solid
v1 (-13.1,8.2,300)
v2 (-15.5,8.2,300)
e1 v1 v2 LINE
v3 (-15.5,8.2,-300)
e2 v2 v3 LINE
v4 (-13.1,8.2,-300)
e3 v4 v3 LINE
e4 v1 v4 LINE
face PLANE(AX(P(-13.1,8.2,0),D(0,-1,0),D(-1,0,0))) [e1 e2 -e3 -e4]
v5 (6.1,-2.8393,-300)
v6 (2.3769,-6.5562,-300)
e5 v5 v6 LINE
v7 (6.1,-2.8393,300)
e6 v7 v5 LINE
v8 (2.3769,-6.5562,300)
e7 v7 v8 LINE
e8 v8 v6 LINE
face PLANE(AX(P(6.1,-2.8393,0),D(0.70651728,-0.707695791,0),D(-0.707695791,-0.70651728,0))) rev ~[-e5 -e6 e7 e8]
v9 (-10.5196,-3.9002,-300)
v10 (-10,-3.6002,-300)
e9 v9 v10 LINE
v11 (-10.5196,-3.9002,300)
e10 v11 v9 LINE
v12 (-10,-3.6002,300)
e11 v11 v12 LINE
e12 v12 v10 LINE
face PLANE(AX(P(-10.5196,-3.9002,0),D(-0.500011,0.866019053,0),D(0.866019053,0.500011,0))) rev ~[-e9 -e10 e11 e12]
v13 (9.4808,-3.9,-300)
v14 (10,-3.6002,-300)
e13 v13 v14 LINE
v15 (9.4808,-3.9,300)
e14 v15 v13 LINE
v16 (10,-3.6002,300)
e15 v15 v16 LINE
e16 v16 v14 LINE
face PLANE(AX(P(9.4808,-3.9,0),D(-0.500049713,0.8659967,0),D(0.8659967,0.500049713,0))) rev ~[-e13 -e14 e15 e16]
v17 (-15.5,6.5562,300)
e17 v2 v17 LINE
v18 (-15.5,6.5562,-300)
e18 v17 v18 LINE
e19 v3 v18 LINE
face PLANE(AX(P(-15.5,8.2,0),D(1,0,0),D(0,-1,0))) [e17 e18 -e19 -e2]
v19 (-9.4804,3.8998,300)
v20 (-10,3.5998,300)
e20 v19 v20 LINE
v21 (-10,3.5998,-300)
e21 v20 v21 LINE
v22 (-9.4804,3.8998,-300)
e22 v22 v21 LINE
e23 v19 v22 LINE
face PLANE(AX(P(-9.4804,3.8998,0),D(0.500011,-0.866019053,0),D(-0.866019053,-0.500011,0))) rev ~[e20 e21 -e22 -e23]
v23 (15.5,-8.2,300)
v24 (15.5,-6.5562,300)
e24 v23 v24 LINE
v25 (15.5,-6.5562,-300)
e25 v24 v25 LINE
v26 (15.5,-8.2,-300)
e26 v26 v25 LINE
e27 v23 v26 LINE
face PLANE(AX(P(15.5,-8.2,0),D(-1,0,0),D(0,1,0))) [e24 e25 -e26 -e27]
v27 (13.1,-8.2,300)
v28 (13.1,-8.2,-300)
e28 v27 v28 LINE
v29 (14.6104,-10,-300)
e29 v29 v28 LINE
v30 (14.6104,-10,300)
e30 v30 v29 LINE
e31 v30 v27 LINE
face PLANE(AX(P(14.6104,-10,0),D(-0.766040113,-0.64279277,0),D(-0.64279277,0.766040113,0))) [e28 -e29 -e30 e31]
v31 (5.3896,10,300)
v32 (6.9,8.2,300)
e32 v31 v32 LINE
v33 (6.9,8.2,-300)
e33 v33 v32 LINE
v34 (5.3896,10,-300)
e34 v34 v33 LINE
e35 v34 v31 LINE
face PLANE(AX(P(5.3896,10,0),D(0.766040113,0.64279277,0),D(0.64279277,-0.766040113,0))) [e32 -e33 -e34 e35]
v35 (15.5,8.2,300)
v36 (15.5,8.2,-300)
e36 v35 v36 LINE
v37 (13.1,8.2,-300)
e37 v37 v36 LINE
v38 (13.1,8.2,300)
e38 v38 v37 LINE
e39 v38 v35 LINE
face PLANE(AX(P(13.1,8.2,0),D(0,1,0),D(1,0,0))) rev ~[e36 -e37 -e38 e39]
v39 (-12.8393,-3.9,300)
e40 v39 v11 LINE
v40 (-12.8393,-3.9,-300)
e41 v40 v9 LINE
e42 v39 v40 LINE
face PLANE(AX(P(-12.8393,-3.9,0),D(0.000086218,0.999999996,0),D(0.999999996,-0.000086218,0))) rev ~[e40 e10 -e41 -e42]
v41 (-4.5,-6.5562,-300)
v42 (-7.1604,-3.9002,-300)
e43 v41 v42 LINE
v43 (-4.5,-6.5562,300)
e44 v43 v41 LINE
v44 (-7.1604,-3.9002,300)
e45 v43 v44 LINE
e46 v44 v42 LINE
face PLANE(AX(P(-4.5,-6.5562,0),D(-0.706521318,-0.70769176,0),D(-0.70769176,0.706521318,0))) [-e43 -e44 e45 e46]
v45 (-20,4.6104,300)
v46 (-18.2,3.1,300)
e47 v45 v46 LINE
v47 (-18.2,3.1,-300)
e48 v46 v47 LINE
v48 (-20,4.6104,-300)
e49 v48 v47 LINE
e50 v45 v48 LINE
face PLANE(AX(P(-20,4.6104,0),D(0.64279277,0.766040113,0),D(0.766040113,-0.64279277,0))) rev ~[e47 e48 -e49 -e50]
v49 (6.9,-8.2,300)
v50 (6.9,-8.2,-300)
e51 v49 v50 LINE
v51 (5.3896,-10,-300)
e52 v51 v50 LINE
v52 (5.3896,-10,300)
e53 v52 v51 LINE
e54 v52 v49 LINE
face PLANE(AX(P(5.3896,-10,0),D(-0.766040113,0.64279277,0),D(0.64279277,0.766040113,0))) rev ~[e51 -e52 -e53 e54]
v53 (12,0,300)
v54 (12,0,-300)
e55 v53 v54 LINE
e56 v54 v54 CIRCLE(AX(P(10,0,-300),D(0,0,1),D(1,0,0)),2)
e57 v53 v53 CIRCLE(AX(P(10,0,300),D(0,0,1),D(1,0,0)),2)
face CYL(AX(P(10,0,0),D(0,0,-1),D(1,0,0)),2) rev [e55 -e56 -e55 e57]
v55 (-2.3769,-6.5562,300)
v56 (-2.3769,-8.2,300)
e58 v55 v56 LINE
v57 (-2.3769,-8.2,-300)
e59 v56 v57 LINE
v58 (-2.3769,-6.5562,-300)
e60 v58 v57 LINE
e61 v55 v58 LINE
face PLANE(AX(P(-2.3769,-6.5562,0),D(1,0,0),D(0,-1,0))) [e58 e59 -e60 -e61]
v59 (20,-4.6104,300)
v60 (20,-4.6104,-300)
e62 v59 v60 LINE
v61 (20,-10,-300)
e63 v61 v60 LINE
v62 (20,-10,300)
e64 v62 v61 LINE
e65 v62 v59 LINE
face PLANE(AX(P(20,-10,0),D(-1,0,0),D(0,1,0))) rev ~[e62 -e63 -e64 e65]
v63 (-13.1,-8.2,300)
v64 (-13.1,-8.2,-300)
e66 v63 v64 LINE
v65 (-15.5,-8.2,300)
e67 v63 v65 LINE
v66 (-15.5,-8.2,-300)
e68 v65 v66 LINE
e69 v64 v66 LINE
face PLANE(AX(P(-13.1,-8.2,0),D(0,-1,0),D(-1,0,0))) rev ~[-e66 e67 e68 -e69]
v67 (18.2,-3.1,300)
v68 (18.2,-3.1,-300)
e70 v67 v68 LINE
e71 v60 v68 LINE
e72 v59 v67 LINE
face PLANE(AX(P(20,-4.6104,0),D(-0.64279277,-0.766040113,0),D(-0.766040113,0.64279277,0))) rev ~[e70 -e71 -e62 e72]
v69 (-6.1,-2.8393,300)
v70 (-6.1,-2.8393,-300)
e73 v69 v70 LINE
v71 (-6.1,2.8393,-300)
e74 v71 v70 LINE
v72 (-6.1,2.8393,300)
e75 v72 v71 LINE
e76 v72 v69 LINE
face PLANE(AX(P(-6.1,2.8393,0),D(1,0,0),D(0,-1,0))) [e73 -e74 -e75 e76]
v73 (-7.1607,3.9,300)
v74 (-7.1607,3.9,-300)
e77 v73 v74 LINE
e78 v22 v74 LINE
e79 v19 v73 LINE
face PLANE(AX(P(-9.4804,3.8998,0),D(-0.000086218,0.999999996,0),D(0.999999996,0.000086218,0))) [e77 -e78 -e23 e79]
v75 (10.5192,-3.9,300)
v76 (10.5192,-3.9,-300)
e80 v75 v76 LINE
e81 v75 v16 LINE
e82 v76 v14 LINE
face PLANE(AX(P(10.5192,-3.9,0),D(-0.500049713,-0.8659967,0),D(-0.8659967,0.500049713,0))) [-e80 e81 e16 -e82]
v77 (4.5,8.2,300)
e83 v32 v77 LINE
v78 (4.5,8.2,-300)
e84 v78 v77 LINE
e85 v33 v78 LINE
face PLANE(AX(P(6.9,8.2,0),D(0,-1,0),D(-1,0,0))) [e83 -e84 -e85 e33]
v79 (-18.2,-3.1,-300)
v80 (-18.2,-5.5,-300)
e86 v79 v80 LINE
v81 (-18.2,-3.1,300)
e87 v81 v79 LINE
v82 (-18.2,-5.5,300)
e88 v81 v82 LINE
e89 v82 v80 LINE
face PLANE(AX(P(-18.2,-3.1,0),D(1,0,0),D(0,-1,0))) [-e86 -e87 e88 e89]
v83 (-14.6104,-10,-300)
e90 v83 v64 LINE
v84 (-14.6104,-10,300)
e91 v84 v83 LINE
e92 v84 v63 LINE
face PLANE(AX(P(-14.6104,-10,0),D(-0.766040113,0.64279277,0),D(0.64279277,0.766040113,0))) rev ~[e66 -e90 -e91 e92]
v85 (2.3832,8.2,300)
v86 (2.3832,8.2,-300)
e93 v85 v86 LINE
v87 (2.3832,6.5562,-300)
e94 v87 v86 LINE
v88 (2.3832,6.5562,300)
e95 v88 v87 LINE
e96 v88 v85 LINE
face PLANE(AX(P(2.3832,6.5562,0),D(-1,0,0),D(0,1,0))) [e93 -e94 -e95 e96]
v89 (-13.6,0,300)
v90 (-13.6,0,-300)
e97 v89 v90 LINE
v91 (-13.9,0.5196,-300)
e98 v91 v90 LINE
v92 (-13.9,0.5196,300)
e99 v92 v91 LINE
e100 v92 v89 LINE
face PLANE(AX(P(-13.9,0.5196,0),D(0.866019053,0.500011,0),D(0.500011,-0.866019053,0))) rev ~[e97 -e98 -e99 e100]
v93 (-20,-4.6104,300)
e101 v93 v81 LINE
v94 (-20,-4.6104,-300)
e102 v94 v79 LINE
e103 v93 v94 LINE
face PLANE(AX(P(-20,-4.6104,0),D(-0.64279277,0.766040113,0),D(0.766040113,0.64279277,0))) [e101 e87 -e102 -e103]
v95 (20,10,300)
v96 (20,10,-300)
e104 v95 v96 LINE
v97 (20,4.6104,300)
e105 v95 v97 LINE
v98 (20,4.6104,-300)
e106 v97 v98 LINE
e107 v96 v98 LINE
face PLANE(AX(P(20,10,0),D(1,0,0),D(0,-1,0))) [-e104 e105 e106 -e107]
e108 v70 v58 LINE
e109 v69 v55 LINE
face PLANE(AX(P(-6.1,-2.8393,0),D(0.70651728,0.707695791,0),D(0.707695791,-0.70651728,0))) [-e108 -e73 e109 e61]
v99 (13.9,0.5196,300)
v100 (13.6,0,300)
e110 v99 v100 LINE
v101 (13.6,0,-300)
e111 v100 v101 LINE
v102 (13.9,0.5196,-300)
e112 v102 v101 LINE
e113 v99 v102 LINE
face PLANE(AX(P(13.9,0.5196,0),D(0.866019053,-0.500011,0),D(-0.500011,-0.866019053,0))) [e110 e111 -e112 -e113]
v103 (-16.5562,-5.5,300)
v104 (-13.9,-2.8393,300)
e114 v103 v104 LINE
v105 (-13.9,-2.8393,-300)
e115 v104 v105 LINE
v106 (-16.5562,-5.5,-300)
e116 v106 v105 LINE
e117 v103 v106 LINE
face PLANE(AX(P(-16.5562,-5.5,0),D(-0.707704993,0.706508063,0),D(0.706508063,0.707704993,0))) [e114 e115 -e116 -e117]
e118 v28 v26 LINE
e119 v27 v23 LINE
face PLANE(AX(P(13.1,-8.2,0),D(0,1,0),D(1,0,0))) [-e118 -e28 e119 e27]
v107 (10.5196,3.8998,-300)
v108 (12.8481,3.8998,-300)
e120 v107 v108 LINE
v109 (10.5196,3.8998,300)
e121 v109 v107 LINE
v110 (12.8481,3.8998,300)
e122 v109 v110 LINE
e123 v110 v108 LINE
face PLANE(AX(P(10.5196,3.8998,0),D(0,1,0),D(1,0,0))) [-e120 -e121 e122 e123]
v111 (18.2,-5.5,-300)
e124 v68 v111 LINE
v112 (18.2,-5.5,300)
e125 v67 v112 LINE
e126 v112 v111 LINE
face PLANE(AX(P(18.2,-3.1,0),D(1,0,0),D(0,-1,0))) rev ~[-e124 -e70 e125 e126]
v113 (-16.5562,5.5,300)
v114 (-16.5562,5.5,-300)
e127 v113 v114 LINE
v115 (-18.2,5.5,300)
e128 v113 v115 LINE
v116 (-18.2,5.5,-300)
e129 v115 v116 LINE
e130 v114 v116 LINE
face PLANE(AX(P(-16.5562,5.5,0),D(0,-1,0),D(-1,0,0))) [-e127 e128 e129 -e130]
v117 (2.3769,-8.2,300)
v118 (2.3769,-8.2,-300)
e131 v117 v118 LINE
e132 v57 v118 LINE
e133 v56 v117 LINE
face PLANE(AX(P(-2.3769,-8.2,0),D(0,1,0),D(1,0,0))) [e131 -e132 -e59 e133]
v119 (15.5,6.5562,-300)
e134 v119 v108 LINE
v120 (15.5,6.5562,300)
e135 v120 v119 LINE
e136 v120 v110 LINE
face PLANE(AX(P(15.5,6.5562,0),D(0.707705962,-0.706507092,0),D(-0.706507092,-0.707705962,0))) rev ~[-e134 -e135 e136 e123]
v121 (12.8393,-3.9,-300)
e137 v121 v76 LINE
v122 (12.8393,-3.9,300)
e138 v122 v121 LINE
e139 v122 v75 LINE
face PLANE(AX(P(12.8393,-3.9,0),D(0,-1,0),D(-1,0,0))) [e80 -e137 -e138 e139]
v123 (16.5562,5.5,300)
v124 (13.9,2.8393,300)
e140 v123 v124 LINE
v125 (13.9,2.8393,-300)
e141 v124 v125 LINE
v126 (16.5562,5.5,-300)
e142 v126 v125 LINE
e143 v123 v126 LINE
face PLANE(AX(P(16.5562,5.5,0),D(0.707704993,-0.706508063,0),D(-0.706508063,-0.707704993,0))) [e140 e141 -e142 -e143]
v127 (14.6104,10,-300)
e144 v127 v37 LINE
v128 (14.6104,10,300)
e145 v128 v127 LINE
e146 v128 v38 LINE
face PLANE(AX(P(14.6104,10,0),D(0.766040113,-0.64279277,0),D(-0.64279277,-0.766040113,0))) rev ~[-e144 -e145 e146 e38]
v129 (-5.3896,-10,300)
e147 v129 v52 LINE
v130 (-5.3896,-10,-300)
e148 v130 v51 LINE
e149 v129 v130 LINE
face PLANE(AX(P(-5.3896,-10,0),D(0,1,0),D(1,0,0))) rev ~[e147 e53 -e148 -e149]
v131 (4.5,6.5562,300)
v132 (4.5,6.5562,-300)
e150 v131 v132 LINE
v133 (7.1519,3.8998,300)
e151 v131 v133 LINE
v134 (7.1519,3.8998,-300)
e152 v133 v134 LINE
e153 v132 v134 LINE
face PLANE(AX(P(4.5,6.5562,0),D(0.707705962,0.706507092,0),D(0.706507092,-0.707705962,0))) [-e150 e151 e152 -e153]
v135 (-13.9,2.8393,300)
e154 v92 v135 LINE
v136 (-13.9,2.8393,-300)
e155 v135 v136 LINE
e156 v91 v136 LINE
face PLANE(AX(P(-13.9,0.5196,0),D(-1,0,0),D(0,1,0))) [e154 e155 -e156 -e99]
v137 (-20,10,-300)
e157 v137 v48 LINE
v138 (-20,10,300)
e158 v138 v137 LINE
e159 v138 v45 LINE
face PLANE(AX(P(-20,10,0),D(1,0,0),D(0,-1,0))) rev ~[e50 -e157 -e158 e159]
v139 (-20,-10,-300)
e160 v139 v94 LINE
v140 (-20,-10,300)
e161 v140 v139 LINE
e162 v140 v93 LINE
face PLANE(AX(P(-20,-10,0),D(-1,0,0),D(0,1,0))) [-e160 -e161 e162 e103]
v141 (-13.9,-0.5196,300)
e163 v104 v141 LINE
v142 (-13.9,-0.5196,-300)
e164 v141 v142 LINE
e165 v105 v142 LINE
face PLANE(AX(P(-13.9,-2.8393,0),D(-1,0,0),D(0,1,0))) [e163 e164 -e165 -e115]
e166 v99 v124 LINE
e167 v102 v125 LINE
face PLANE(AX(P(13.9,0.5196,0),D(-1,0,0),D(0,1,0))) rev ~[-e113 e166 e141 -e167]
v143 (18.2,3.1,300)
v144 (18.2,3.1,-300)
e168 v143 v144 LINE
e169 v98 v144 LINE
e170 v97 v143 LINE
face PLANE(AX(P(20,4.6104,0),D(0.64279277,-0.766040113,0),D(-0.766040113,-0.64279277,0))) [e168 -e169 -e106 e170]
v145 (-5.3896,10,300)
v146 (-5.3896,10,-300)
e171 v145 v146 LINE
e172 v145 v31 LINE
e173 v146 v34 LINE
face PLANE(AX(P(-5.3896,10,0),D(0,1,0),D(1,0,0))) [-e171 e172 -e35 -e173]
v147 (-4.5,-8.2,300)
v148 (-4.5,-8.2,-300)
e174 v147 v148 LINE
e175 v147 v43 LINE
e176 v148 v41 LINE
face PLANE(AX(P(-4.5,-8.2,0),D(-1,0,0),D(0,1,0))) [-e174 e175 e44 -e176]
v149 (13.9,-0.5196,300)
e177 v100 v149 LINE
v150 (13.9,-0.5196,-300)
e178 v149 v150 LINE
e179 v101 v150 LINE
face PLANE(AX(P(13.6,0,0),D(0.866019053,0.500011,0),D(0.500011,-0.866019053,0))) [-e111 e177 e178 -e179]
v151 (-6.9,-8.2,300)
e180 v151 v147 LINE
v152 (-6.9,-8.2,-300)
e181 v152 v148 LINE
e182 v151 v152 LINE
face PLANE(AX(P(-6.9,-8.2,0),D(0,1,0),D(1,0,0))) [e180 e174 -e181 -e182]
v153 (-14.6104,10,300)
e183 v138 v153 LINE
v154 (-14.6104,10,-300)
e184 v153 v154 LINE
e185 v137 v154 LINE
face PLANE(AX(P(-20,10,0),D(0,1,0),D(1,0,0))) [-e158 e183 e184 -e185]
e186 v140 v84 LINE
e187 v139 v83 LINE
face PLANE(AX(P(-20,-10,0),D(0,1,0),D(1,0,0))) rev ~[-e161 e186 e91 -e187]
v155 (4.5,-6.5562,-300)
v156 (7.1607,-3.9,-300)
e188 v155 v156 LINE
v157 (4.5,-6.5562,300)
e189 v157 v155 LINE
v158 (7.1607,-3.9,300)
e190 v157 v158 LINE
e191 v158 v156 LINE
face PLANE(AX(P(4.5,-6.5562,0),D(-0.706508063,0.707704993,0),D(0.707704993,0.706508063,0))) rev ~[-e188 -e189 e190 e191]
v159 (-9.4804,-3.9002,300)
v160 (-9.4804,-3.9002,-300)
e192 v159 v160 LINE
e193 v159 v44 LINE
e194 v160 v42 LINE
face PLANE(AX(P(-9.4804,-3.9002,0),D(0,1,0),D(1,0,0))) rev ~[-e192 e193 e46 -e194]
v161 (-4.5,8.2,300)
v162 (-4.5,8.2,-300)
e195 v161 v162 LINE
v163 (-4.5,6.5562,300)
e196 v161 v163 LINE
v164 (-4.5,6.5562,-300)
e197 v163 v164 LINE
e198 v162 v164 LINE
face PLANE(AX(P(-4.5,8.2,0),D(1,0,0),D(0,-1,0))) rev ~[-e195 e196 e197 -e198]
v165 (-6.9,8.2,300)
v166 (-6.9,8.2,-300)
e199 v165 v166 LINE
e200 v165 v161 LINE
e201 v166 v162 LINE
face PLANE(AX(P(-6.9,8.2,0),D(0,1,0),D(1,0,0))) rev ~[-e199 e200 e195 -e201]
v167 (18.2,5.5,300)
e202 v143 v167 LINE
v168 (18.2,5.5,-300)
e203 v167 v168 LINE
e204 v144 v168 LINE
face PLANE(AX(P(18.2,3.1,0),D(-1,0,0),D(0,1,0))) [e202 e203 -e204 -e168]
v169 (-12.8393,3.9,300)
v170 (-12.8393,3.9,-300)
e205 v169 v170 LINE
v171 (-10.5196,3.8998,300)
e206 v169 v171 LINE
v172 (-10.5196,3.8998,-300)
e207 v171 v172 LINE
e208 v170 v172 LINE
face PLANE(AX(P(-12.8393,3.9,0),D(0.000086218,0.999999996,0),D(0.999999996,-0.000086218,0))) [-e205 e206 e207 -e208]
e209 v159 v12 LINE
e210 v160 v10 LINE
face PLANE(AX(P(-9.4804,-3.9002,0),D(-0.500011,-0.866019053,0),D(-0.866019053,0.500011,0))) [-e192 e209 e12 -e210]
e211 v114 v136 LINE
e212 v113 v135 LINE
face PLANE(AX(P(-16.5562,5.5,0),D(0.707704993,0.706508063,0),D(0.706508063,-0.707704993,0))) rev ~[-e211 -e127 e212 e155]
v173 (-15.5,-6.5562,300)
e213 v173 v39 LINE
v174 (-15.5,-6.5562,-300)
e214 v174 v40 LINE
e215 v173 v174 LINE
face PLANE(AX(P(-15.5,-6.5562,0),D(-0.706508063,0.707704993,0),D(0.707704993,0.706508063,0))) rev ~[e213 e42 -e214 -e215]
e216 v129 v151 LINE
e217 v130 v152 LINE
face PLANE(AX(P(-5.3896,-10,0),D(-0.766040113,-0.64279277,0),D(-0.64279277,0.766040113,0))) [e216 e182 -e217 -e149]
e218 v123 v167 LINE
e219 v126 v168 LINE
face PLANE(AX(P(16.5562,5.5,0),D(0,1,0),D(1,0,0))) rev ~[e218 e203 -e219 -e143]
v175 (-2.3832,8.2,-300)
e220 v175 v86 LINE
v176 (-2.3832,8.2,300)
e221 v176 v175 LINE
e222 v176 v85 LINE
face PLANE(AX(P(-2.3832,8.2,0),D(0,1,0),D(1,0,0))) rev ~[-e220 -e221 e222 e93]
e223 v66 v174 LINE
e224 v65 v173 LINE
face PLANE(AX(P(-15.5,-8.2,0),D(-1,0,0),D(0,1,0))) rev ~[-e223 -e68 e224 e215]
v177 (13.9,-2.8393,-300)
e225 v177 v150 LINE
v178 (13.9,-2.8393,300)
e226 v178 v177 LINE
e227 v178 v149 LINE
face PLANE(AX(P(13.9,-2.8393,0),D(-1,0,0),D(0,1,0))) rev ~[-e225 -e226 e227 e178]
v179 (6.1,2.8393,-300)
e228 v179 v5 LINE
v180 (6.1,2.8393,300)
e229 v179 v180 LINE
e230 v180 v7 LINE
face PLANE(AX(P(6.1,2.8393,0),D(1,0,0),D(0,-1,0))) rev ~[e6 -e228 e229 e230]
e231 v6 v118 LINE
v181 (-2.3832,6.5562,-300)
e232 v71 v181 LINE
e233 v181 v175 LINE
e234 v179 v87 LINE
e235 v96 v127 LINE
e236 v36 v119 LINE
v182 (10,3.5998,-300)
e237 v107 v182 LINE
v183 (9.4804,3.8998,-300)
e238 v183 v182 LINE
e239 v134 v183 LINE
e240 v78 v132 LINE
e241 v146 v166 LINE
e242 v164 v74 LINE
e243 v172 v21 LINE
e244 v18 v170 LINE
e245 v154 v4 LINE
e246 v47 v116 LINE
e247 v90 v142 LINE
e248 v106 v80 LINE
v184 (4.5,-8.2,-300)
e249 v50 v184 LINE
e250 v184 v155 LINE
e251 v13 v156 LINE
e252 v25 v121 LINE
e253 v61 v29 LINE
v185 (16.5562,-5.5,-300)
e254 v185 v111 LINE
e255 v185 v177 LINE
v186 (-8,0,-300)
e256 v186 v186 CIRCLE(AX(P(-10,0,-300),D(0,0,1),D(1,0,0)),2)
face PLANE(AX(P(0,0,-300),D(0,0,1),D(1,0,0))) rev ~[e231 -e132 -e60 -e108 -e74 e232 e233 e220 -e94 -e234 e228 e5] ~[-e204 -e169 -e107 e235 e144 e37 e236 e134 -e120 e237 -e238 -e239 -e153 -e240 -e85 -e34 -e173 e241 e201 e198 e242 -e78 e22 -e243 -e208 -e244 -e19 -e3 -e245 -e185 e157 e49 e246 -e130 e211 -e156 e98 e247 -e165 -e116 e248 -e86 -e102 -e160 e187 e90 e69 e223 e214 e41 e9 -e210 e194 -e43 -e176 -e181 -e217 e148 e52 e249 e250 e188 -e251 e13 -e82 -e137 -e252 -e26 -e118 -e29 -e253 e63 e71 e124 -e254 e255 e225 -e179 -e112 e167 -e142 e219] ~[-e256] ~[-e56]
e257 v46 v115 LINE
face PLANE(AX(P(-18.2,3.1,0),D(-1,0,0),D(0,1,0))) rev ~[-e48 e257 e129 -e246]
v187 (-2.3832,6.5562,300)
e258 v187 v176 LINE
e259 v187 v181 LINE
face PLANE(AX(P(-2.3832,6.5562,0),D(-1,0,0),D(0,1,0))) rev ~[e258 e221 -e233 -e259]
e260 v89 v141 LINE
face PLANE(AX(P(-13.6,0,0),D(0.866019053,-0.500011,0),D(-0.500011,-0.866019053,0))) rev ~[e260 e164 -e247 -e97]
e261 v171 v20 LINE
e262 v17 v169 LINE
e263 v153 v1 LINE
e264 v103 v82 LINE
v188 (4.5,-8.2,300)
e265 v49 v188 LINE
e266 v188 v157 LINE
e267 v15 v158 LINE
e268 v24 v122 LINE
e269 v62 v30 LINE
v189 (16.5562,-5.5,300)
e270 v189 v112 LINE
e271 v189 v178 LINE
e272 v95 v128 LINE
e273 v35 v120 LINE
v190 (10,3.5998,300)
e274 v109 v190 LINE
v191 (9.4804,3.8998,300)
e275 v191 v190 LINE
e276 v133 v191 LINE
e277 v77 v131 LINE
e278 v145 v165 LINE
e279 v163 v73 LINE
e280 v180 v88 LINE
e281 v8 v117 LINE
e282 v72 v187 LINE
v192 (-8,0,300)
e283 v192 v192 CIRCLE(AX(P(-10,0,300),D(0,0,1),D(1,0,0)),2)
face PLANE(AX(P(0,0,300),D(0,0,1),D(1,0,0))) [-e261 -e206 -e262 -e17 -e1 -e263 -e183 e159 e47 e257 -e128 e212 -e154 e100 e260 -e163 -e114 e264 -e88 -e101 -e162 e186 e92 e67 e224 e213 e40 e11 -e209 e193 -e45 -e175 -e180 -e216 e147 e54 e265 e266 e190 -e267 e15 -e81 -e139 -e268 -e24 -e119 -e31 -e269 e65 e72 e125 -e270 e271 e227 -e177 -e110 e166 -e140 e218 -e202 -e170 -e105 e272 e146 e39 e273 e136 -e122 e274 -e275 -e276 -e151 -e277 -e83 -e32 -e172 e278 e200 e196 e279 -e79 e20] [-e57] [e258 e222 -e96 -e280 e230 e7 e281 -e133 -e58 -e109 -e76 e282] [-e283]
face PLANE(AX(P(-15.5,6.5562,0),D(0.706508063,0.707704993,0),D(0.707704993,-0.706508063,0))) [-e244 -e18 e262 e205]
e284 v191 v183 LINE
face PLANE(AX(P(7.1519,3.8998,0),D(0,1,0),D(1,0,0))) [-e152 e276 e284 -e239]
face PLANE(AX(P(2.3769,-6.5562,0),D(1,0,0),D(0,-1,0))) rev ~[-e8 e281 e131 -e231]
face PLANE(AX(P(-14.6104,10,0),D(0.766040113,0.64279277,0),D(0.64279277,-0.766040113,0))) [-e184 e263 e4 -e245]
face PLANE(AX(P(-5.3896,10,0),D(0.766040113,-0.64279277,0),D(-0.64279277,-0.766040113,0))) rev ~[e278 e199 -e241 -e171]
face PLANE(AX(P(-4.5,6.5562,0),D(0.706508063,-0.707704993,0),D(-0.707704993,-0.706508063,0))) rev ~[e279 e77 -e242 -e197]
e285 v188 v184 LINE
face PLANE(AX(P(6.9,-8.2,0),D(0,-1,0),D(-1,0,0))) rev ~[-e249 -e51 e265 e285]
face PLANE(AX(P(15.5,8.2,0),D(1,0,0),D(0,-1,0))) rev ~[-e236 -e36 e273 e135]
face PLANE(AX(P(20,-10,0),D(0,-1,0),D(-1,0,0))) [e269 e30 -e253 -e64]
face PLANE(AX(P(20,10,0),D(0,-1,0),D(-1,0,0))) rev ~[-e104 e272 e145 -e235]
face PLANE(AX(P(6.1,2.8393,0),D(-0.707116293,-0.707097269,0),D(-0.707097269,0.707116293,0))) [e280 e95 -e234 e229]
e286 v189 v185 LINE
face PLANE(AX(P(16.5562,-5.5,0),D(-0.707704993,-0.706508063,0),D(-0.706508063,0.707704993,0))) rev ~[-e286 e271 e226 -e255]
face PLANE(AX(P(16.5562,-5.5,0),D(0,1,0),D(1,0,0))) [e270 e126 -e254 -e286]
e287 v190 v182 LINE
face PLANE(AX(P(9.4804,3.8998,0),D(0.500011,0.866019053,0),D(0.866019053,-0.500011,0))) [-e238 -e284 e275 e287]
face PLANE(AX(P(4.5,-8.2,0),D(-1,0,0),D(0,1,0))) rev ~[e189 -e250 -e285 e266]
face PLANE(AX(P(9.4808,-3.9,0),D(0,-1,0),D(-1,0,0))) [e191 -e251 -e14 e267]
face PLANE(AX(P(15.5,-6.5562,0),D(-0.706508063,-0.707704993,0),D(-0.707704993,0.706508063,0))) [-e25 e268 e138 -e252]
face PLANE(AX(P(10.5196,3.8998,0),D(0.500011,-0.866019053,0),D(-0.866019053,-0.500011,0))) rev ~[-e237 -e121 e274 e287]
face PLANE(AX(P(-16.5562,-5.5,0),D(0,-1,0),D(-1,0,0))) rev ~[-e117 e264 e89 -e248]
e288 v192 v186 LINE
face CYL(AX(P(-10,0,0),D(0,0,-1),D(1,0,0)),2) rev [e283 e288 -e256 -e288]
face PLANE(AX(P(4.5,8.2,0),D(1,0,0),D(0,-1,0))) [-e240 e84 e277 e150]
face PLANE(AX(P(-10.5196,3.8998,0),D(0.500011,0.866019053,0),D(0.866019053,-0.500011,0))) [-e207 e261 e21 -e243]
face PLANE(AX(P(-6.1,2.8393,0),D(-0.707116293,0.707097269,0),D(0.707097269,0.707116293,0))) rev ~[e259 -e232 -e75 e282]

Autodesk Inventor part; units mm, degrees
ref_plane "YZ Plane" through (0, 0, 0) normal (1, 0, 0) x (0, 1, 0)
ref_plane "XZ Plane" through (0, 0, 0) normal (0, 1, 0) x (-1, 0, 0)
ref_plane "XY Plane" through (0, 0, 0) normal (0, 0, 1) x (1, 0, 0)
sketch "Sketch1" plane through (0, 0, 0) normal (0, 0, 1) x (1, 0, 0)
  line L0 (4.5, 8.2) -> (4.5, 6.5562)
  line L1 (6.9, 8.2) -> (4.5, 8.2)
  line L2 (5.3896, 10) -> (6.9, 8.2)
  line L3 (-5.3896, 10) -> (5.3896, 10)
  line L4 (-5.3896, 10) -> (-6.9, 8.2)
  line L5 (-6.9, 8.2) -> (-4.5, 8.2)
  line L6 (-4.5, 8.2) -> (-4.5, 6.5562)
  line L7 (-4.5, 6.5562) -> (-7.1607, 3.9)
  line L8 (-9.4804, 3.8998) -> (-7.1607, 3.9)
  line L9 (-9.4804, 3.8998) -> (-10, 3.5998)
  line L10 (-10.5196, 3.8998) -> (-10, 3.5998)
  line L11 (-12.8393, 3.9) -> (-10.5196, 3.8998)
  line L12 (-15.5, 6.5562) -> (-12.8393, 3.9)
  line L13 (-15.5, 8.2) -> (-15.5, 6.5562)
  line L14 (-13.1, 8.2) -> (-15.5, 8.2)
  line L15 (-14.6104, 10) -> (-13.1, 8.2)
  line L16 (-20, 10) -> (-14.6104, 10)
  line L17 (-20, 10) -> (-20, 4.6104)
  line L18 (-20, 4.6104) -> (-18.2, 3.1)
  line L19 (-18.2, 3.1) -> (-18.2, 5.5)
  line L20 (-16.5562, 5.5) -> (-18.2, 5.5)
  line L21 (-16.5562, 5.5) -> (-13.9, 2.8393)
  line L22 (-13.9, 0.5196) -> (-13.9, 2.8393)
  line L23 (-13.9, 0.5196) -> (-13.6, 0)
  line L24 (-13.6, 0) -> (-13.9, -0.5196)
  line L25 (-13.9, -2.8393) -> (-13.9, -0.5196)
  line L26 (-16.5562, -5.5) -> (-13.9, -2.8393)
  line L27 (-16.5562, -5.5) -> (-18.2, -5.5)
  line L28 (-18.2, -3.1) -> (-18.2, -5.5)
  line L29 (-20, -4.6104) -> (-18.2, -3.1)
  line L30 (-20, -10) -> (-20, -4.6104)
  line L31 (-20, -10) -> (-14.6104, -10)
  line L32 (-14.6104, -10) -> (-13.1, -8.2)
  line L33 (-13.1, -8.2) -> (-15.5, -8.2)
  line L34 (-15.5, -8.2) -> (-15.5, -6.5562)
  line L35 (-15.5, -6.5562) -> (-12.8393, -3.9)
  line L36 (-12.8393, -3.9) -> (-10.5196, -3.9002)
  line L37 (-10.5196, -3.9002) -> (-10, -3.6002)
  line L38 (-9.4804, -3.9002) -> (-10, -3.6002)
  line L39 (-9.4804, -3.9002) -> (-7.1604, -3.9002)
  line L40 (-4.5, -6.5562) -> (-7.1604, -3.9002)
  line L41 (-4.5, -8.2) -> (-4.5, -6.5562)
  line L42 (-6.9, -8.2) -> (-4.5, -8.2)
  line L43 (-5.3896, -10) -> (-6.9, -8.2)
  line L44 (-5.3896, -10) -> (5.3896, -10)
  line L45 (5.3896, -10) -> (6.9, -8.2)
  line L46 (6.9, -8.2) -> (4.5, -8.2)
  line L47 (4.5, -8.2) -> (4.5, -6.5562)
  line L48 (4.5, -6.5562) -> (7.1607, -3.9)
  line L49 (9.4808, -3.9) -> (7.1607, -3.9)
  line L50 (9.4808, -3.9) -> (10, -3.6002)
  line L51 (10.5192, -3.9) -> (10, -3.6002)
  line L52 (12.8393, -3.9) -> (10.5192, -3.9)
  line L53 (15.5, -6.5562) -> (12.8393, -3.9)
  line L54 (15.5, -8.2) -> (15.5, -6.5562)
  line L55 (13.1, -8.2) -> (15.5, -8.2)
  line L56 (14.6104, -10) -> (13.1, -8.2)
  line L57 (20, -10) -> (14.6104, -10)
  line L58 (20, -10) -> (20, -4.6104)
  line L59 (20, -4.6104) -> (18.2, -3.1)
  line L60 (18.2, -3.1) -> (18.2, -5.5)
  line L61 (16.5562, -5.5) -> (18.2, -5.5)
  line L62 (16.5562, -5.5) -> (13.9, -2.8393)
  line L63 (13.9, -2.8393) -> (13.9, -0.5196)
  line L64 (13.6, 0) -> (13.9, -0.5196)
  line L65 (13.9, 0.5196) -> (13.6, 0)
  line L66 (13.9, 0.5196) -> (13.9, 2.8393)
  line L67 (16.5562, 5.5) -> (13.9, 2.8393)
  line L68 (16.5562, 5.5) -> (18.2, 5.5)
  line L69 (18.2, 3.1) -> (18.2, 5.5)
  line L70 (20, 4.6104) -> (18.2, 3.1)
  line L71 (20, 10) -> (20, 4.6104)
  line L72 (20, 10) -> (14.6104, 10)
  line L73 (14.6104, 10) -> (13.1, 8.2)
  line L74 (13.1, 8.2) -> (15.5, 8.2)
  line L75 (15.5, 8.2) -> (15.5, 6.5562)
  line L76 (15.5, 6.5562) -> (12.8481, 3.8998)
  line L77 (10.5196, 3.8998) -> (12.8481, 3.8998)
  line L78 (10.5196, 3.8998) -> (10, 3.5998)
  line L79 (9.4804, 3.8998) -> (10, 3.5998)
  line L80 (7.1519, 3.8998) -> (9.4804, 3.8998)
  line L81 (4.5, 6.5562) -> (7.1519, 3.8998)
  circle A0 centre (-10, 0) radius 2
  circle A1 centre (10, 0) radius 2
  line L82 (6.1, 2.8393) -> (2.3832, 6.5562)
  line L83 (6.1, 2.8393) -> (6.1, -2.8393)
  line L84 (6.1, -2.8393) -> (2.3769, -6.5562)
  line L85 (2.3769, -6.5562) -> (2.3769, -8.2)
  line L86 (-2.3769, -8.2) -> (2.3769, -8.2)
  line L87 (-2.3769, -6.5562) -> (-2.3769, -8.2)
  line L88 (-6.1, -2.8393) -> (-2.3769, -6.5562)
  line L89 (-6.1, 2.8393) -> (-6.1, -2.8393)
  line L90 (-6.1, 2.8393) -> (-2.3832, 6.5562)
  line L91 (-2.3832, 6.5562) -> (-2.3832, 8.2)
  line L92 (-2.3832, 8.2) -> (2.3832, 8.2)
  line L93 (2.3832, 6.5562) -> (2.3832, 8.2)
  point P0 (0, 0)
  point P1 (0, 0)
extrude "Extrusion1" add sketch "Sketch1" along normal mid plane 600
properties part number "vslot_2040_600mm"
